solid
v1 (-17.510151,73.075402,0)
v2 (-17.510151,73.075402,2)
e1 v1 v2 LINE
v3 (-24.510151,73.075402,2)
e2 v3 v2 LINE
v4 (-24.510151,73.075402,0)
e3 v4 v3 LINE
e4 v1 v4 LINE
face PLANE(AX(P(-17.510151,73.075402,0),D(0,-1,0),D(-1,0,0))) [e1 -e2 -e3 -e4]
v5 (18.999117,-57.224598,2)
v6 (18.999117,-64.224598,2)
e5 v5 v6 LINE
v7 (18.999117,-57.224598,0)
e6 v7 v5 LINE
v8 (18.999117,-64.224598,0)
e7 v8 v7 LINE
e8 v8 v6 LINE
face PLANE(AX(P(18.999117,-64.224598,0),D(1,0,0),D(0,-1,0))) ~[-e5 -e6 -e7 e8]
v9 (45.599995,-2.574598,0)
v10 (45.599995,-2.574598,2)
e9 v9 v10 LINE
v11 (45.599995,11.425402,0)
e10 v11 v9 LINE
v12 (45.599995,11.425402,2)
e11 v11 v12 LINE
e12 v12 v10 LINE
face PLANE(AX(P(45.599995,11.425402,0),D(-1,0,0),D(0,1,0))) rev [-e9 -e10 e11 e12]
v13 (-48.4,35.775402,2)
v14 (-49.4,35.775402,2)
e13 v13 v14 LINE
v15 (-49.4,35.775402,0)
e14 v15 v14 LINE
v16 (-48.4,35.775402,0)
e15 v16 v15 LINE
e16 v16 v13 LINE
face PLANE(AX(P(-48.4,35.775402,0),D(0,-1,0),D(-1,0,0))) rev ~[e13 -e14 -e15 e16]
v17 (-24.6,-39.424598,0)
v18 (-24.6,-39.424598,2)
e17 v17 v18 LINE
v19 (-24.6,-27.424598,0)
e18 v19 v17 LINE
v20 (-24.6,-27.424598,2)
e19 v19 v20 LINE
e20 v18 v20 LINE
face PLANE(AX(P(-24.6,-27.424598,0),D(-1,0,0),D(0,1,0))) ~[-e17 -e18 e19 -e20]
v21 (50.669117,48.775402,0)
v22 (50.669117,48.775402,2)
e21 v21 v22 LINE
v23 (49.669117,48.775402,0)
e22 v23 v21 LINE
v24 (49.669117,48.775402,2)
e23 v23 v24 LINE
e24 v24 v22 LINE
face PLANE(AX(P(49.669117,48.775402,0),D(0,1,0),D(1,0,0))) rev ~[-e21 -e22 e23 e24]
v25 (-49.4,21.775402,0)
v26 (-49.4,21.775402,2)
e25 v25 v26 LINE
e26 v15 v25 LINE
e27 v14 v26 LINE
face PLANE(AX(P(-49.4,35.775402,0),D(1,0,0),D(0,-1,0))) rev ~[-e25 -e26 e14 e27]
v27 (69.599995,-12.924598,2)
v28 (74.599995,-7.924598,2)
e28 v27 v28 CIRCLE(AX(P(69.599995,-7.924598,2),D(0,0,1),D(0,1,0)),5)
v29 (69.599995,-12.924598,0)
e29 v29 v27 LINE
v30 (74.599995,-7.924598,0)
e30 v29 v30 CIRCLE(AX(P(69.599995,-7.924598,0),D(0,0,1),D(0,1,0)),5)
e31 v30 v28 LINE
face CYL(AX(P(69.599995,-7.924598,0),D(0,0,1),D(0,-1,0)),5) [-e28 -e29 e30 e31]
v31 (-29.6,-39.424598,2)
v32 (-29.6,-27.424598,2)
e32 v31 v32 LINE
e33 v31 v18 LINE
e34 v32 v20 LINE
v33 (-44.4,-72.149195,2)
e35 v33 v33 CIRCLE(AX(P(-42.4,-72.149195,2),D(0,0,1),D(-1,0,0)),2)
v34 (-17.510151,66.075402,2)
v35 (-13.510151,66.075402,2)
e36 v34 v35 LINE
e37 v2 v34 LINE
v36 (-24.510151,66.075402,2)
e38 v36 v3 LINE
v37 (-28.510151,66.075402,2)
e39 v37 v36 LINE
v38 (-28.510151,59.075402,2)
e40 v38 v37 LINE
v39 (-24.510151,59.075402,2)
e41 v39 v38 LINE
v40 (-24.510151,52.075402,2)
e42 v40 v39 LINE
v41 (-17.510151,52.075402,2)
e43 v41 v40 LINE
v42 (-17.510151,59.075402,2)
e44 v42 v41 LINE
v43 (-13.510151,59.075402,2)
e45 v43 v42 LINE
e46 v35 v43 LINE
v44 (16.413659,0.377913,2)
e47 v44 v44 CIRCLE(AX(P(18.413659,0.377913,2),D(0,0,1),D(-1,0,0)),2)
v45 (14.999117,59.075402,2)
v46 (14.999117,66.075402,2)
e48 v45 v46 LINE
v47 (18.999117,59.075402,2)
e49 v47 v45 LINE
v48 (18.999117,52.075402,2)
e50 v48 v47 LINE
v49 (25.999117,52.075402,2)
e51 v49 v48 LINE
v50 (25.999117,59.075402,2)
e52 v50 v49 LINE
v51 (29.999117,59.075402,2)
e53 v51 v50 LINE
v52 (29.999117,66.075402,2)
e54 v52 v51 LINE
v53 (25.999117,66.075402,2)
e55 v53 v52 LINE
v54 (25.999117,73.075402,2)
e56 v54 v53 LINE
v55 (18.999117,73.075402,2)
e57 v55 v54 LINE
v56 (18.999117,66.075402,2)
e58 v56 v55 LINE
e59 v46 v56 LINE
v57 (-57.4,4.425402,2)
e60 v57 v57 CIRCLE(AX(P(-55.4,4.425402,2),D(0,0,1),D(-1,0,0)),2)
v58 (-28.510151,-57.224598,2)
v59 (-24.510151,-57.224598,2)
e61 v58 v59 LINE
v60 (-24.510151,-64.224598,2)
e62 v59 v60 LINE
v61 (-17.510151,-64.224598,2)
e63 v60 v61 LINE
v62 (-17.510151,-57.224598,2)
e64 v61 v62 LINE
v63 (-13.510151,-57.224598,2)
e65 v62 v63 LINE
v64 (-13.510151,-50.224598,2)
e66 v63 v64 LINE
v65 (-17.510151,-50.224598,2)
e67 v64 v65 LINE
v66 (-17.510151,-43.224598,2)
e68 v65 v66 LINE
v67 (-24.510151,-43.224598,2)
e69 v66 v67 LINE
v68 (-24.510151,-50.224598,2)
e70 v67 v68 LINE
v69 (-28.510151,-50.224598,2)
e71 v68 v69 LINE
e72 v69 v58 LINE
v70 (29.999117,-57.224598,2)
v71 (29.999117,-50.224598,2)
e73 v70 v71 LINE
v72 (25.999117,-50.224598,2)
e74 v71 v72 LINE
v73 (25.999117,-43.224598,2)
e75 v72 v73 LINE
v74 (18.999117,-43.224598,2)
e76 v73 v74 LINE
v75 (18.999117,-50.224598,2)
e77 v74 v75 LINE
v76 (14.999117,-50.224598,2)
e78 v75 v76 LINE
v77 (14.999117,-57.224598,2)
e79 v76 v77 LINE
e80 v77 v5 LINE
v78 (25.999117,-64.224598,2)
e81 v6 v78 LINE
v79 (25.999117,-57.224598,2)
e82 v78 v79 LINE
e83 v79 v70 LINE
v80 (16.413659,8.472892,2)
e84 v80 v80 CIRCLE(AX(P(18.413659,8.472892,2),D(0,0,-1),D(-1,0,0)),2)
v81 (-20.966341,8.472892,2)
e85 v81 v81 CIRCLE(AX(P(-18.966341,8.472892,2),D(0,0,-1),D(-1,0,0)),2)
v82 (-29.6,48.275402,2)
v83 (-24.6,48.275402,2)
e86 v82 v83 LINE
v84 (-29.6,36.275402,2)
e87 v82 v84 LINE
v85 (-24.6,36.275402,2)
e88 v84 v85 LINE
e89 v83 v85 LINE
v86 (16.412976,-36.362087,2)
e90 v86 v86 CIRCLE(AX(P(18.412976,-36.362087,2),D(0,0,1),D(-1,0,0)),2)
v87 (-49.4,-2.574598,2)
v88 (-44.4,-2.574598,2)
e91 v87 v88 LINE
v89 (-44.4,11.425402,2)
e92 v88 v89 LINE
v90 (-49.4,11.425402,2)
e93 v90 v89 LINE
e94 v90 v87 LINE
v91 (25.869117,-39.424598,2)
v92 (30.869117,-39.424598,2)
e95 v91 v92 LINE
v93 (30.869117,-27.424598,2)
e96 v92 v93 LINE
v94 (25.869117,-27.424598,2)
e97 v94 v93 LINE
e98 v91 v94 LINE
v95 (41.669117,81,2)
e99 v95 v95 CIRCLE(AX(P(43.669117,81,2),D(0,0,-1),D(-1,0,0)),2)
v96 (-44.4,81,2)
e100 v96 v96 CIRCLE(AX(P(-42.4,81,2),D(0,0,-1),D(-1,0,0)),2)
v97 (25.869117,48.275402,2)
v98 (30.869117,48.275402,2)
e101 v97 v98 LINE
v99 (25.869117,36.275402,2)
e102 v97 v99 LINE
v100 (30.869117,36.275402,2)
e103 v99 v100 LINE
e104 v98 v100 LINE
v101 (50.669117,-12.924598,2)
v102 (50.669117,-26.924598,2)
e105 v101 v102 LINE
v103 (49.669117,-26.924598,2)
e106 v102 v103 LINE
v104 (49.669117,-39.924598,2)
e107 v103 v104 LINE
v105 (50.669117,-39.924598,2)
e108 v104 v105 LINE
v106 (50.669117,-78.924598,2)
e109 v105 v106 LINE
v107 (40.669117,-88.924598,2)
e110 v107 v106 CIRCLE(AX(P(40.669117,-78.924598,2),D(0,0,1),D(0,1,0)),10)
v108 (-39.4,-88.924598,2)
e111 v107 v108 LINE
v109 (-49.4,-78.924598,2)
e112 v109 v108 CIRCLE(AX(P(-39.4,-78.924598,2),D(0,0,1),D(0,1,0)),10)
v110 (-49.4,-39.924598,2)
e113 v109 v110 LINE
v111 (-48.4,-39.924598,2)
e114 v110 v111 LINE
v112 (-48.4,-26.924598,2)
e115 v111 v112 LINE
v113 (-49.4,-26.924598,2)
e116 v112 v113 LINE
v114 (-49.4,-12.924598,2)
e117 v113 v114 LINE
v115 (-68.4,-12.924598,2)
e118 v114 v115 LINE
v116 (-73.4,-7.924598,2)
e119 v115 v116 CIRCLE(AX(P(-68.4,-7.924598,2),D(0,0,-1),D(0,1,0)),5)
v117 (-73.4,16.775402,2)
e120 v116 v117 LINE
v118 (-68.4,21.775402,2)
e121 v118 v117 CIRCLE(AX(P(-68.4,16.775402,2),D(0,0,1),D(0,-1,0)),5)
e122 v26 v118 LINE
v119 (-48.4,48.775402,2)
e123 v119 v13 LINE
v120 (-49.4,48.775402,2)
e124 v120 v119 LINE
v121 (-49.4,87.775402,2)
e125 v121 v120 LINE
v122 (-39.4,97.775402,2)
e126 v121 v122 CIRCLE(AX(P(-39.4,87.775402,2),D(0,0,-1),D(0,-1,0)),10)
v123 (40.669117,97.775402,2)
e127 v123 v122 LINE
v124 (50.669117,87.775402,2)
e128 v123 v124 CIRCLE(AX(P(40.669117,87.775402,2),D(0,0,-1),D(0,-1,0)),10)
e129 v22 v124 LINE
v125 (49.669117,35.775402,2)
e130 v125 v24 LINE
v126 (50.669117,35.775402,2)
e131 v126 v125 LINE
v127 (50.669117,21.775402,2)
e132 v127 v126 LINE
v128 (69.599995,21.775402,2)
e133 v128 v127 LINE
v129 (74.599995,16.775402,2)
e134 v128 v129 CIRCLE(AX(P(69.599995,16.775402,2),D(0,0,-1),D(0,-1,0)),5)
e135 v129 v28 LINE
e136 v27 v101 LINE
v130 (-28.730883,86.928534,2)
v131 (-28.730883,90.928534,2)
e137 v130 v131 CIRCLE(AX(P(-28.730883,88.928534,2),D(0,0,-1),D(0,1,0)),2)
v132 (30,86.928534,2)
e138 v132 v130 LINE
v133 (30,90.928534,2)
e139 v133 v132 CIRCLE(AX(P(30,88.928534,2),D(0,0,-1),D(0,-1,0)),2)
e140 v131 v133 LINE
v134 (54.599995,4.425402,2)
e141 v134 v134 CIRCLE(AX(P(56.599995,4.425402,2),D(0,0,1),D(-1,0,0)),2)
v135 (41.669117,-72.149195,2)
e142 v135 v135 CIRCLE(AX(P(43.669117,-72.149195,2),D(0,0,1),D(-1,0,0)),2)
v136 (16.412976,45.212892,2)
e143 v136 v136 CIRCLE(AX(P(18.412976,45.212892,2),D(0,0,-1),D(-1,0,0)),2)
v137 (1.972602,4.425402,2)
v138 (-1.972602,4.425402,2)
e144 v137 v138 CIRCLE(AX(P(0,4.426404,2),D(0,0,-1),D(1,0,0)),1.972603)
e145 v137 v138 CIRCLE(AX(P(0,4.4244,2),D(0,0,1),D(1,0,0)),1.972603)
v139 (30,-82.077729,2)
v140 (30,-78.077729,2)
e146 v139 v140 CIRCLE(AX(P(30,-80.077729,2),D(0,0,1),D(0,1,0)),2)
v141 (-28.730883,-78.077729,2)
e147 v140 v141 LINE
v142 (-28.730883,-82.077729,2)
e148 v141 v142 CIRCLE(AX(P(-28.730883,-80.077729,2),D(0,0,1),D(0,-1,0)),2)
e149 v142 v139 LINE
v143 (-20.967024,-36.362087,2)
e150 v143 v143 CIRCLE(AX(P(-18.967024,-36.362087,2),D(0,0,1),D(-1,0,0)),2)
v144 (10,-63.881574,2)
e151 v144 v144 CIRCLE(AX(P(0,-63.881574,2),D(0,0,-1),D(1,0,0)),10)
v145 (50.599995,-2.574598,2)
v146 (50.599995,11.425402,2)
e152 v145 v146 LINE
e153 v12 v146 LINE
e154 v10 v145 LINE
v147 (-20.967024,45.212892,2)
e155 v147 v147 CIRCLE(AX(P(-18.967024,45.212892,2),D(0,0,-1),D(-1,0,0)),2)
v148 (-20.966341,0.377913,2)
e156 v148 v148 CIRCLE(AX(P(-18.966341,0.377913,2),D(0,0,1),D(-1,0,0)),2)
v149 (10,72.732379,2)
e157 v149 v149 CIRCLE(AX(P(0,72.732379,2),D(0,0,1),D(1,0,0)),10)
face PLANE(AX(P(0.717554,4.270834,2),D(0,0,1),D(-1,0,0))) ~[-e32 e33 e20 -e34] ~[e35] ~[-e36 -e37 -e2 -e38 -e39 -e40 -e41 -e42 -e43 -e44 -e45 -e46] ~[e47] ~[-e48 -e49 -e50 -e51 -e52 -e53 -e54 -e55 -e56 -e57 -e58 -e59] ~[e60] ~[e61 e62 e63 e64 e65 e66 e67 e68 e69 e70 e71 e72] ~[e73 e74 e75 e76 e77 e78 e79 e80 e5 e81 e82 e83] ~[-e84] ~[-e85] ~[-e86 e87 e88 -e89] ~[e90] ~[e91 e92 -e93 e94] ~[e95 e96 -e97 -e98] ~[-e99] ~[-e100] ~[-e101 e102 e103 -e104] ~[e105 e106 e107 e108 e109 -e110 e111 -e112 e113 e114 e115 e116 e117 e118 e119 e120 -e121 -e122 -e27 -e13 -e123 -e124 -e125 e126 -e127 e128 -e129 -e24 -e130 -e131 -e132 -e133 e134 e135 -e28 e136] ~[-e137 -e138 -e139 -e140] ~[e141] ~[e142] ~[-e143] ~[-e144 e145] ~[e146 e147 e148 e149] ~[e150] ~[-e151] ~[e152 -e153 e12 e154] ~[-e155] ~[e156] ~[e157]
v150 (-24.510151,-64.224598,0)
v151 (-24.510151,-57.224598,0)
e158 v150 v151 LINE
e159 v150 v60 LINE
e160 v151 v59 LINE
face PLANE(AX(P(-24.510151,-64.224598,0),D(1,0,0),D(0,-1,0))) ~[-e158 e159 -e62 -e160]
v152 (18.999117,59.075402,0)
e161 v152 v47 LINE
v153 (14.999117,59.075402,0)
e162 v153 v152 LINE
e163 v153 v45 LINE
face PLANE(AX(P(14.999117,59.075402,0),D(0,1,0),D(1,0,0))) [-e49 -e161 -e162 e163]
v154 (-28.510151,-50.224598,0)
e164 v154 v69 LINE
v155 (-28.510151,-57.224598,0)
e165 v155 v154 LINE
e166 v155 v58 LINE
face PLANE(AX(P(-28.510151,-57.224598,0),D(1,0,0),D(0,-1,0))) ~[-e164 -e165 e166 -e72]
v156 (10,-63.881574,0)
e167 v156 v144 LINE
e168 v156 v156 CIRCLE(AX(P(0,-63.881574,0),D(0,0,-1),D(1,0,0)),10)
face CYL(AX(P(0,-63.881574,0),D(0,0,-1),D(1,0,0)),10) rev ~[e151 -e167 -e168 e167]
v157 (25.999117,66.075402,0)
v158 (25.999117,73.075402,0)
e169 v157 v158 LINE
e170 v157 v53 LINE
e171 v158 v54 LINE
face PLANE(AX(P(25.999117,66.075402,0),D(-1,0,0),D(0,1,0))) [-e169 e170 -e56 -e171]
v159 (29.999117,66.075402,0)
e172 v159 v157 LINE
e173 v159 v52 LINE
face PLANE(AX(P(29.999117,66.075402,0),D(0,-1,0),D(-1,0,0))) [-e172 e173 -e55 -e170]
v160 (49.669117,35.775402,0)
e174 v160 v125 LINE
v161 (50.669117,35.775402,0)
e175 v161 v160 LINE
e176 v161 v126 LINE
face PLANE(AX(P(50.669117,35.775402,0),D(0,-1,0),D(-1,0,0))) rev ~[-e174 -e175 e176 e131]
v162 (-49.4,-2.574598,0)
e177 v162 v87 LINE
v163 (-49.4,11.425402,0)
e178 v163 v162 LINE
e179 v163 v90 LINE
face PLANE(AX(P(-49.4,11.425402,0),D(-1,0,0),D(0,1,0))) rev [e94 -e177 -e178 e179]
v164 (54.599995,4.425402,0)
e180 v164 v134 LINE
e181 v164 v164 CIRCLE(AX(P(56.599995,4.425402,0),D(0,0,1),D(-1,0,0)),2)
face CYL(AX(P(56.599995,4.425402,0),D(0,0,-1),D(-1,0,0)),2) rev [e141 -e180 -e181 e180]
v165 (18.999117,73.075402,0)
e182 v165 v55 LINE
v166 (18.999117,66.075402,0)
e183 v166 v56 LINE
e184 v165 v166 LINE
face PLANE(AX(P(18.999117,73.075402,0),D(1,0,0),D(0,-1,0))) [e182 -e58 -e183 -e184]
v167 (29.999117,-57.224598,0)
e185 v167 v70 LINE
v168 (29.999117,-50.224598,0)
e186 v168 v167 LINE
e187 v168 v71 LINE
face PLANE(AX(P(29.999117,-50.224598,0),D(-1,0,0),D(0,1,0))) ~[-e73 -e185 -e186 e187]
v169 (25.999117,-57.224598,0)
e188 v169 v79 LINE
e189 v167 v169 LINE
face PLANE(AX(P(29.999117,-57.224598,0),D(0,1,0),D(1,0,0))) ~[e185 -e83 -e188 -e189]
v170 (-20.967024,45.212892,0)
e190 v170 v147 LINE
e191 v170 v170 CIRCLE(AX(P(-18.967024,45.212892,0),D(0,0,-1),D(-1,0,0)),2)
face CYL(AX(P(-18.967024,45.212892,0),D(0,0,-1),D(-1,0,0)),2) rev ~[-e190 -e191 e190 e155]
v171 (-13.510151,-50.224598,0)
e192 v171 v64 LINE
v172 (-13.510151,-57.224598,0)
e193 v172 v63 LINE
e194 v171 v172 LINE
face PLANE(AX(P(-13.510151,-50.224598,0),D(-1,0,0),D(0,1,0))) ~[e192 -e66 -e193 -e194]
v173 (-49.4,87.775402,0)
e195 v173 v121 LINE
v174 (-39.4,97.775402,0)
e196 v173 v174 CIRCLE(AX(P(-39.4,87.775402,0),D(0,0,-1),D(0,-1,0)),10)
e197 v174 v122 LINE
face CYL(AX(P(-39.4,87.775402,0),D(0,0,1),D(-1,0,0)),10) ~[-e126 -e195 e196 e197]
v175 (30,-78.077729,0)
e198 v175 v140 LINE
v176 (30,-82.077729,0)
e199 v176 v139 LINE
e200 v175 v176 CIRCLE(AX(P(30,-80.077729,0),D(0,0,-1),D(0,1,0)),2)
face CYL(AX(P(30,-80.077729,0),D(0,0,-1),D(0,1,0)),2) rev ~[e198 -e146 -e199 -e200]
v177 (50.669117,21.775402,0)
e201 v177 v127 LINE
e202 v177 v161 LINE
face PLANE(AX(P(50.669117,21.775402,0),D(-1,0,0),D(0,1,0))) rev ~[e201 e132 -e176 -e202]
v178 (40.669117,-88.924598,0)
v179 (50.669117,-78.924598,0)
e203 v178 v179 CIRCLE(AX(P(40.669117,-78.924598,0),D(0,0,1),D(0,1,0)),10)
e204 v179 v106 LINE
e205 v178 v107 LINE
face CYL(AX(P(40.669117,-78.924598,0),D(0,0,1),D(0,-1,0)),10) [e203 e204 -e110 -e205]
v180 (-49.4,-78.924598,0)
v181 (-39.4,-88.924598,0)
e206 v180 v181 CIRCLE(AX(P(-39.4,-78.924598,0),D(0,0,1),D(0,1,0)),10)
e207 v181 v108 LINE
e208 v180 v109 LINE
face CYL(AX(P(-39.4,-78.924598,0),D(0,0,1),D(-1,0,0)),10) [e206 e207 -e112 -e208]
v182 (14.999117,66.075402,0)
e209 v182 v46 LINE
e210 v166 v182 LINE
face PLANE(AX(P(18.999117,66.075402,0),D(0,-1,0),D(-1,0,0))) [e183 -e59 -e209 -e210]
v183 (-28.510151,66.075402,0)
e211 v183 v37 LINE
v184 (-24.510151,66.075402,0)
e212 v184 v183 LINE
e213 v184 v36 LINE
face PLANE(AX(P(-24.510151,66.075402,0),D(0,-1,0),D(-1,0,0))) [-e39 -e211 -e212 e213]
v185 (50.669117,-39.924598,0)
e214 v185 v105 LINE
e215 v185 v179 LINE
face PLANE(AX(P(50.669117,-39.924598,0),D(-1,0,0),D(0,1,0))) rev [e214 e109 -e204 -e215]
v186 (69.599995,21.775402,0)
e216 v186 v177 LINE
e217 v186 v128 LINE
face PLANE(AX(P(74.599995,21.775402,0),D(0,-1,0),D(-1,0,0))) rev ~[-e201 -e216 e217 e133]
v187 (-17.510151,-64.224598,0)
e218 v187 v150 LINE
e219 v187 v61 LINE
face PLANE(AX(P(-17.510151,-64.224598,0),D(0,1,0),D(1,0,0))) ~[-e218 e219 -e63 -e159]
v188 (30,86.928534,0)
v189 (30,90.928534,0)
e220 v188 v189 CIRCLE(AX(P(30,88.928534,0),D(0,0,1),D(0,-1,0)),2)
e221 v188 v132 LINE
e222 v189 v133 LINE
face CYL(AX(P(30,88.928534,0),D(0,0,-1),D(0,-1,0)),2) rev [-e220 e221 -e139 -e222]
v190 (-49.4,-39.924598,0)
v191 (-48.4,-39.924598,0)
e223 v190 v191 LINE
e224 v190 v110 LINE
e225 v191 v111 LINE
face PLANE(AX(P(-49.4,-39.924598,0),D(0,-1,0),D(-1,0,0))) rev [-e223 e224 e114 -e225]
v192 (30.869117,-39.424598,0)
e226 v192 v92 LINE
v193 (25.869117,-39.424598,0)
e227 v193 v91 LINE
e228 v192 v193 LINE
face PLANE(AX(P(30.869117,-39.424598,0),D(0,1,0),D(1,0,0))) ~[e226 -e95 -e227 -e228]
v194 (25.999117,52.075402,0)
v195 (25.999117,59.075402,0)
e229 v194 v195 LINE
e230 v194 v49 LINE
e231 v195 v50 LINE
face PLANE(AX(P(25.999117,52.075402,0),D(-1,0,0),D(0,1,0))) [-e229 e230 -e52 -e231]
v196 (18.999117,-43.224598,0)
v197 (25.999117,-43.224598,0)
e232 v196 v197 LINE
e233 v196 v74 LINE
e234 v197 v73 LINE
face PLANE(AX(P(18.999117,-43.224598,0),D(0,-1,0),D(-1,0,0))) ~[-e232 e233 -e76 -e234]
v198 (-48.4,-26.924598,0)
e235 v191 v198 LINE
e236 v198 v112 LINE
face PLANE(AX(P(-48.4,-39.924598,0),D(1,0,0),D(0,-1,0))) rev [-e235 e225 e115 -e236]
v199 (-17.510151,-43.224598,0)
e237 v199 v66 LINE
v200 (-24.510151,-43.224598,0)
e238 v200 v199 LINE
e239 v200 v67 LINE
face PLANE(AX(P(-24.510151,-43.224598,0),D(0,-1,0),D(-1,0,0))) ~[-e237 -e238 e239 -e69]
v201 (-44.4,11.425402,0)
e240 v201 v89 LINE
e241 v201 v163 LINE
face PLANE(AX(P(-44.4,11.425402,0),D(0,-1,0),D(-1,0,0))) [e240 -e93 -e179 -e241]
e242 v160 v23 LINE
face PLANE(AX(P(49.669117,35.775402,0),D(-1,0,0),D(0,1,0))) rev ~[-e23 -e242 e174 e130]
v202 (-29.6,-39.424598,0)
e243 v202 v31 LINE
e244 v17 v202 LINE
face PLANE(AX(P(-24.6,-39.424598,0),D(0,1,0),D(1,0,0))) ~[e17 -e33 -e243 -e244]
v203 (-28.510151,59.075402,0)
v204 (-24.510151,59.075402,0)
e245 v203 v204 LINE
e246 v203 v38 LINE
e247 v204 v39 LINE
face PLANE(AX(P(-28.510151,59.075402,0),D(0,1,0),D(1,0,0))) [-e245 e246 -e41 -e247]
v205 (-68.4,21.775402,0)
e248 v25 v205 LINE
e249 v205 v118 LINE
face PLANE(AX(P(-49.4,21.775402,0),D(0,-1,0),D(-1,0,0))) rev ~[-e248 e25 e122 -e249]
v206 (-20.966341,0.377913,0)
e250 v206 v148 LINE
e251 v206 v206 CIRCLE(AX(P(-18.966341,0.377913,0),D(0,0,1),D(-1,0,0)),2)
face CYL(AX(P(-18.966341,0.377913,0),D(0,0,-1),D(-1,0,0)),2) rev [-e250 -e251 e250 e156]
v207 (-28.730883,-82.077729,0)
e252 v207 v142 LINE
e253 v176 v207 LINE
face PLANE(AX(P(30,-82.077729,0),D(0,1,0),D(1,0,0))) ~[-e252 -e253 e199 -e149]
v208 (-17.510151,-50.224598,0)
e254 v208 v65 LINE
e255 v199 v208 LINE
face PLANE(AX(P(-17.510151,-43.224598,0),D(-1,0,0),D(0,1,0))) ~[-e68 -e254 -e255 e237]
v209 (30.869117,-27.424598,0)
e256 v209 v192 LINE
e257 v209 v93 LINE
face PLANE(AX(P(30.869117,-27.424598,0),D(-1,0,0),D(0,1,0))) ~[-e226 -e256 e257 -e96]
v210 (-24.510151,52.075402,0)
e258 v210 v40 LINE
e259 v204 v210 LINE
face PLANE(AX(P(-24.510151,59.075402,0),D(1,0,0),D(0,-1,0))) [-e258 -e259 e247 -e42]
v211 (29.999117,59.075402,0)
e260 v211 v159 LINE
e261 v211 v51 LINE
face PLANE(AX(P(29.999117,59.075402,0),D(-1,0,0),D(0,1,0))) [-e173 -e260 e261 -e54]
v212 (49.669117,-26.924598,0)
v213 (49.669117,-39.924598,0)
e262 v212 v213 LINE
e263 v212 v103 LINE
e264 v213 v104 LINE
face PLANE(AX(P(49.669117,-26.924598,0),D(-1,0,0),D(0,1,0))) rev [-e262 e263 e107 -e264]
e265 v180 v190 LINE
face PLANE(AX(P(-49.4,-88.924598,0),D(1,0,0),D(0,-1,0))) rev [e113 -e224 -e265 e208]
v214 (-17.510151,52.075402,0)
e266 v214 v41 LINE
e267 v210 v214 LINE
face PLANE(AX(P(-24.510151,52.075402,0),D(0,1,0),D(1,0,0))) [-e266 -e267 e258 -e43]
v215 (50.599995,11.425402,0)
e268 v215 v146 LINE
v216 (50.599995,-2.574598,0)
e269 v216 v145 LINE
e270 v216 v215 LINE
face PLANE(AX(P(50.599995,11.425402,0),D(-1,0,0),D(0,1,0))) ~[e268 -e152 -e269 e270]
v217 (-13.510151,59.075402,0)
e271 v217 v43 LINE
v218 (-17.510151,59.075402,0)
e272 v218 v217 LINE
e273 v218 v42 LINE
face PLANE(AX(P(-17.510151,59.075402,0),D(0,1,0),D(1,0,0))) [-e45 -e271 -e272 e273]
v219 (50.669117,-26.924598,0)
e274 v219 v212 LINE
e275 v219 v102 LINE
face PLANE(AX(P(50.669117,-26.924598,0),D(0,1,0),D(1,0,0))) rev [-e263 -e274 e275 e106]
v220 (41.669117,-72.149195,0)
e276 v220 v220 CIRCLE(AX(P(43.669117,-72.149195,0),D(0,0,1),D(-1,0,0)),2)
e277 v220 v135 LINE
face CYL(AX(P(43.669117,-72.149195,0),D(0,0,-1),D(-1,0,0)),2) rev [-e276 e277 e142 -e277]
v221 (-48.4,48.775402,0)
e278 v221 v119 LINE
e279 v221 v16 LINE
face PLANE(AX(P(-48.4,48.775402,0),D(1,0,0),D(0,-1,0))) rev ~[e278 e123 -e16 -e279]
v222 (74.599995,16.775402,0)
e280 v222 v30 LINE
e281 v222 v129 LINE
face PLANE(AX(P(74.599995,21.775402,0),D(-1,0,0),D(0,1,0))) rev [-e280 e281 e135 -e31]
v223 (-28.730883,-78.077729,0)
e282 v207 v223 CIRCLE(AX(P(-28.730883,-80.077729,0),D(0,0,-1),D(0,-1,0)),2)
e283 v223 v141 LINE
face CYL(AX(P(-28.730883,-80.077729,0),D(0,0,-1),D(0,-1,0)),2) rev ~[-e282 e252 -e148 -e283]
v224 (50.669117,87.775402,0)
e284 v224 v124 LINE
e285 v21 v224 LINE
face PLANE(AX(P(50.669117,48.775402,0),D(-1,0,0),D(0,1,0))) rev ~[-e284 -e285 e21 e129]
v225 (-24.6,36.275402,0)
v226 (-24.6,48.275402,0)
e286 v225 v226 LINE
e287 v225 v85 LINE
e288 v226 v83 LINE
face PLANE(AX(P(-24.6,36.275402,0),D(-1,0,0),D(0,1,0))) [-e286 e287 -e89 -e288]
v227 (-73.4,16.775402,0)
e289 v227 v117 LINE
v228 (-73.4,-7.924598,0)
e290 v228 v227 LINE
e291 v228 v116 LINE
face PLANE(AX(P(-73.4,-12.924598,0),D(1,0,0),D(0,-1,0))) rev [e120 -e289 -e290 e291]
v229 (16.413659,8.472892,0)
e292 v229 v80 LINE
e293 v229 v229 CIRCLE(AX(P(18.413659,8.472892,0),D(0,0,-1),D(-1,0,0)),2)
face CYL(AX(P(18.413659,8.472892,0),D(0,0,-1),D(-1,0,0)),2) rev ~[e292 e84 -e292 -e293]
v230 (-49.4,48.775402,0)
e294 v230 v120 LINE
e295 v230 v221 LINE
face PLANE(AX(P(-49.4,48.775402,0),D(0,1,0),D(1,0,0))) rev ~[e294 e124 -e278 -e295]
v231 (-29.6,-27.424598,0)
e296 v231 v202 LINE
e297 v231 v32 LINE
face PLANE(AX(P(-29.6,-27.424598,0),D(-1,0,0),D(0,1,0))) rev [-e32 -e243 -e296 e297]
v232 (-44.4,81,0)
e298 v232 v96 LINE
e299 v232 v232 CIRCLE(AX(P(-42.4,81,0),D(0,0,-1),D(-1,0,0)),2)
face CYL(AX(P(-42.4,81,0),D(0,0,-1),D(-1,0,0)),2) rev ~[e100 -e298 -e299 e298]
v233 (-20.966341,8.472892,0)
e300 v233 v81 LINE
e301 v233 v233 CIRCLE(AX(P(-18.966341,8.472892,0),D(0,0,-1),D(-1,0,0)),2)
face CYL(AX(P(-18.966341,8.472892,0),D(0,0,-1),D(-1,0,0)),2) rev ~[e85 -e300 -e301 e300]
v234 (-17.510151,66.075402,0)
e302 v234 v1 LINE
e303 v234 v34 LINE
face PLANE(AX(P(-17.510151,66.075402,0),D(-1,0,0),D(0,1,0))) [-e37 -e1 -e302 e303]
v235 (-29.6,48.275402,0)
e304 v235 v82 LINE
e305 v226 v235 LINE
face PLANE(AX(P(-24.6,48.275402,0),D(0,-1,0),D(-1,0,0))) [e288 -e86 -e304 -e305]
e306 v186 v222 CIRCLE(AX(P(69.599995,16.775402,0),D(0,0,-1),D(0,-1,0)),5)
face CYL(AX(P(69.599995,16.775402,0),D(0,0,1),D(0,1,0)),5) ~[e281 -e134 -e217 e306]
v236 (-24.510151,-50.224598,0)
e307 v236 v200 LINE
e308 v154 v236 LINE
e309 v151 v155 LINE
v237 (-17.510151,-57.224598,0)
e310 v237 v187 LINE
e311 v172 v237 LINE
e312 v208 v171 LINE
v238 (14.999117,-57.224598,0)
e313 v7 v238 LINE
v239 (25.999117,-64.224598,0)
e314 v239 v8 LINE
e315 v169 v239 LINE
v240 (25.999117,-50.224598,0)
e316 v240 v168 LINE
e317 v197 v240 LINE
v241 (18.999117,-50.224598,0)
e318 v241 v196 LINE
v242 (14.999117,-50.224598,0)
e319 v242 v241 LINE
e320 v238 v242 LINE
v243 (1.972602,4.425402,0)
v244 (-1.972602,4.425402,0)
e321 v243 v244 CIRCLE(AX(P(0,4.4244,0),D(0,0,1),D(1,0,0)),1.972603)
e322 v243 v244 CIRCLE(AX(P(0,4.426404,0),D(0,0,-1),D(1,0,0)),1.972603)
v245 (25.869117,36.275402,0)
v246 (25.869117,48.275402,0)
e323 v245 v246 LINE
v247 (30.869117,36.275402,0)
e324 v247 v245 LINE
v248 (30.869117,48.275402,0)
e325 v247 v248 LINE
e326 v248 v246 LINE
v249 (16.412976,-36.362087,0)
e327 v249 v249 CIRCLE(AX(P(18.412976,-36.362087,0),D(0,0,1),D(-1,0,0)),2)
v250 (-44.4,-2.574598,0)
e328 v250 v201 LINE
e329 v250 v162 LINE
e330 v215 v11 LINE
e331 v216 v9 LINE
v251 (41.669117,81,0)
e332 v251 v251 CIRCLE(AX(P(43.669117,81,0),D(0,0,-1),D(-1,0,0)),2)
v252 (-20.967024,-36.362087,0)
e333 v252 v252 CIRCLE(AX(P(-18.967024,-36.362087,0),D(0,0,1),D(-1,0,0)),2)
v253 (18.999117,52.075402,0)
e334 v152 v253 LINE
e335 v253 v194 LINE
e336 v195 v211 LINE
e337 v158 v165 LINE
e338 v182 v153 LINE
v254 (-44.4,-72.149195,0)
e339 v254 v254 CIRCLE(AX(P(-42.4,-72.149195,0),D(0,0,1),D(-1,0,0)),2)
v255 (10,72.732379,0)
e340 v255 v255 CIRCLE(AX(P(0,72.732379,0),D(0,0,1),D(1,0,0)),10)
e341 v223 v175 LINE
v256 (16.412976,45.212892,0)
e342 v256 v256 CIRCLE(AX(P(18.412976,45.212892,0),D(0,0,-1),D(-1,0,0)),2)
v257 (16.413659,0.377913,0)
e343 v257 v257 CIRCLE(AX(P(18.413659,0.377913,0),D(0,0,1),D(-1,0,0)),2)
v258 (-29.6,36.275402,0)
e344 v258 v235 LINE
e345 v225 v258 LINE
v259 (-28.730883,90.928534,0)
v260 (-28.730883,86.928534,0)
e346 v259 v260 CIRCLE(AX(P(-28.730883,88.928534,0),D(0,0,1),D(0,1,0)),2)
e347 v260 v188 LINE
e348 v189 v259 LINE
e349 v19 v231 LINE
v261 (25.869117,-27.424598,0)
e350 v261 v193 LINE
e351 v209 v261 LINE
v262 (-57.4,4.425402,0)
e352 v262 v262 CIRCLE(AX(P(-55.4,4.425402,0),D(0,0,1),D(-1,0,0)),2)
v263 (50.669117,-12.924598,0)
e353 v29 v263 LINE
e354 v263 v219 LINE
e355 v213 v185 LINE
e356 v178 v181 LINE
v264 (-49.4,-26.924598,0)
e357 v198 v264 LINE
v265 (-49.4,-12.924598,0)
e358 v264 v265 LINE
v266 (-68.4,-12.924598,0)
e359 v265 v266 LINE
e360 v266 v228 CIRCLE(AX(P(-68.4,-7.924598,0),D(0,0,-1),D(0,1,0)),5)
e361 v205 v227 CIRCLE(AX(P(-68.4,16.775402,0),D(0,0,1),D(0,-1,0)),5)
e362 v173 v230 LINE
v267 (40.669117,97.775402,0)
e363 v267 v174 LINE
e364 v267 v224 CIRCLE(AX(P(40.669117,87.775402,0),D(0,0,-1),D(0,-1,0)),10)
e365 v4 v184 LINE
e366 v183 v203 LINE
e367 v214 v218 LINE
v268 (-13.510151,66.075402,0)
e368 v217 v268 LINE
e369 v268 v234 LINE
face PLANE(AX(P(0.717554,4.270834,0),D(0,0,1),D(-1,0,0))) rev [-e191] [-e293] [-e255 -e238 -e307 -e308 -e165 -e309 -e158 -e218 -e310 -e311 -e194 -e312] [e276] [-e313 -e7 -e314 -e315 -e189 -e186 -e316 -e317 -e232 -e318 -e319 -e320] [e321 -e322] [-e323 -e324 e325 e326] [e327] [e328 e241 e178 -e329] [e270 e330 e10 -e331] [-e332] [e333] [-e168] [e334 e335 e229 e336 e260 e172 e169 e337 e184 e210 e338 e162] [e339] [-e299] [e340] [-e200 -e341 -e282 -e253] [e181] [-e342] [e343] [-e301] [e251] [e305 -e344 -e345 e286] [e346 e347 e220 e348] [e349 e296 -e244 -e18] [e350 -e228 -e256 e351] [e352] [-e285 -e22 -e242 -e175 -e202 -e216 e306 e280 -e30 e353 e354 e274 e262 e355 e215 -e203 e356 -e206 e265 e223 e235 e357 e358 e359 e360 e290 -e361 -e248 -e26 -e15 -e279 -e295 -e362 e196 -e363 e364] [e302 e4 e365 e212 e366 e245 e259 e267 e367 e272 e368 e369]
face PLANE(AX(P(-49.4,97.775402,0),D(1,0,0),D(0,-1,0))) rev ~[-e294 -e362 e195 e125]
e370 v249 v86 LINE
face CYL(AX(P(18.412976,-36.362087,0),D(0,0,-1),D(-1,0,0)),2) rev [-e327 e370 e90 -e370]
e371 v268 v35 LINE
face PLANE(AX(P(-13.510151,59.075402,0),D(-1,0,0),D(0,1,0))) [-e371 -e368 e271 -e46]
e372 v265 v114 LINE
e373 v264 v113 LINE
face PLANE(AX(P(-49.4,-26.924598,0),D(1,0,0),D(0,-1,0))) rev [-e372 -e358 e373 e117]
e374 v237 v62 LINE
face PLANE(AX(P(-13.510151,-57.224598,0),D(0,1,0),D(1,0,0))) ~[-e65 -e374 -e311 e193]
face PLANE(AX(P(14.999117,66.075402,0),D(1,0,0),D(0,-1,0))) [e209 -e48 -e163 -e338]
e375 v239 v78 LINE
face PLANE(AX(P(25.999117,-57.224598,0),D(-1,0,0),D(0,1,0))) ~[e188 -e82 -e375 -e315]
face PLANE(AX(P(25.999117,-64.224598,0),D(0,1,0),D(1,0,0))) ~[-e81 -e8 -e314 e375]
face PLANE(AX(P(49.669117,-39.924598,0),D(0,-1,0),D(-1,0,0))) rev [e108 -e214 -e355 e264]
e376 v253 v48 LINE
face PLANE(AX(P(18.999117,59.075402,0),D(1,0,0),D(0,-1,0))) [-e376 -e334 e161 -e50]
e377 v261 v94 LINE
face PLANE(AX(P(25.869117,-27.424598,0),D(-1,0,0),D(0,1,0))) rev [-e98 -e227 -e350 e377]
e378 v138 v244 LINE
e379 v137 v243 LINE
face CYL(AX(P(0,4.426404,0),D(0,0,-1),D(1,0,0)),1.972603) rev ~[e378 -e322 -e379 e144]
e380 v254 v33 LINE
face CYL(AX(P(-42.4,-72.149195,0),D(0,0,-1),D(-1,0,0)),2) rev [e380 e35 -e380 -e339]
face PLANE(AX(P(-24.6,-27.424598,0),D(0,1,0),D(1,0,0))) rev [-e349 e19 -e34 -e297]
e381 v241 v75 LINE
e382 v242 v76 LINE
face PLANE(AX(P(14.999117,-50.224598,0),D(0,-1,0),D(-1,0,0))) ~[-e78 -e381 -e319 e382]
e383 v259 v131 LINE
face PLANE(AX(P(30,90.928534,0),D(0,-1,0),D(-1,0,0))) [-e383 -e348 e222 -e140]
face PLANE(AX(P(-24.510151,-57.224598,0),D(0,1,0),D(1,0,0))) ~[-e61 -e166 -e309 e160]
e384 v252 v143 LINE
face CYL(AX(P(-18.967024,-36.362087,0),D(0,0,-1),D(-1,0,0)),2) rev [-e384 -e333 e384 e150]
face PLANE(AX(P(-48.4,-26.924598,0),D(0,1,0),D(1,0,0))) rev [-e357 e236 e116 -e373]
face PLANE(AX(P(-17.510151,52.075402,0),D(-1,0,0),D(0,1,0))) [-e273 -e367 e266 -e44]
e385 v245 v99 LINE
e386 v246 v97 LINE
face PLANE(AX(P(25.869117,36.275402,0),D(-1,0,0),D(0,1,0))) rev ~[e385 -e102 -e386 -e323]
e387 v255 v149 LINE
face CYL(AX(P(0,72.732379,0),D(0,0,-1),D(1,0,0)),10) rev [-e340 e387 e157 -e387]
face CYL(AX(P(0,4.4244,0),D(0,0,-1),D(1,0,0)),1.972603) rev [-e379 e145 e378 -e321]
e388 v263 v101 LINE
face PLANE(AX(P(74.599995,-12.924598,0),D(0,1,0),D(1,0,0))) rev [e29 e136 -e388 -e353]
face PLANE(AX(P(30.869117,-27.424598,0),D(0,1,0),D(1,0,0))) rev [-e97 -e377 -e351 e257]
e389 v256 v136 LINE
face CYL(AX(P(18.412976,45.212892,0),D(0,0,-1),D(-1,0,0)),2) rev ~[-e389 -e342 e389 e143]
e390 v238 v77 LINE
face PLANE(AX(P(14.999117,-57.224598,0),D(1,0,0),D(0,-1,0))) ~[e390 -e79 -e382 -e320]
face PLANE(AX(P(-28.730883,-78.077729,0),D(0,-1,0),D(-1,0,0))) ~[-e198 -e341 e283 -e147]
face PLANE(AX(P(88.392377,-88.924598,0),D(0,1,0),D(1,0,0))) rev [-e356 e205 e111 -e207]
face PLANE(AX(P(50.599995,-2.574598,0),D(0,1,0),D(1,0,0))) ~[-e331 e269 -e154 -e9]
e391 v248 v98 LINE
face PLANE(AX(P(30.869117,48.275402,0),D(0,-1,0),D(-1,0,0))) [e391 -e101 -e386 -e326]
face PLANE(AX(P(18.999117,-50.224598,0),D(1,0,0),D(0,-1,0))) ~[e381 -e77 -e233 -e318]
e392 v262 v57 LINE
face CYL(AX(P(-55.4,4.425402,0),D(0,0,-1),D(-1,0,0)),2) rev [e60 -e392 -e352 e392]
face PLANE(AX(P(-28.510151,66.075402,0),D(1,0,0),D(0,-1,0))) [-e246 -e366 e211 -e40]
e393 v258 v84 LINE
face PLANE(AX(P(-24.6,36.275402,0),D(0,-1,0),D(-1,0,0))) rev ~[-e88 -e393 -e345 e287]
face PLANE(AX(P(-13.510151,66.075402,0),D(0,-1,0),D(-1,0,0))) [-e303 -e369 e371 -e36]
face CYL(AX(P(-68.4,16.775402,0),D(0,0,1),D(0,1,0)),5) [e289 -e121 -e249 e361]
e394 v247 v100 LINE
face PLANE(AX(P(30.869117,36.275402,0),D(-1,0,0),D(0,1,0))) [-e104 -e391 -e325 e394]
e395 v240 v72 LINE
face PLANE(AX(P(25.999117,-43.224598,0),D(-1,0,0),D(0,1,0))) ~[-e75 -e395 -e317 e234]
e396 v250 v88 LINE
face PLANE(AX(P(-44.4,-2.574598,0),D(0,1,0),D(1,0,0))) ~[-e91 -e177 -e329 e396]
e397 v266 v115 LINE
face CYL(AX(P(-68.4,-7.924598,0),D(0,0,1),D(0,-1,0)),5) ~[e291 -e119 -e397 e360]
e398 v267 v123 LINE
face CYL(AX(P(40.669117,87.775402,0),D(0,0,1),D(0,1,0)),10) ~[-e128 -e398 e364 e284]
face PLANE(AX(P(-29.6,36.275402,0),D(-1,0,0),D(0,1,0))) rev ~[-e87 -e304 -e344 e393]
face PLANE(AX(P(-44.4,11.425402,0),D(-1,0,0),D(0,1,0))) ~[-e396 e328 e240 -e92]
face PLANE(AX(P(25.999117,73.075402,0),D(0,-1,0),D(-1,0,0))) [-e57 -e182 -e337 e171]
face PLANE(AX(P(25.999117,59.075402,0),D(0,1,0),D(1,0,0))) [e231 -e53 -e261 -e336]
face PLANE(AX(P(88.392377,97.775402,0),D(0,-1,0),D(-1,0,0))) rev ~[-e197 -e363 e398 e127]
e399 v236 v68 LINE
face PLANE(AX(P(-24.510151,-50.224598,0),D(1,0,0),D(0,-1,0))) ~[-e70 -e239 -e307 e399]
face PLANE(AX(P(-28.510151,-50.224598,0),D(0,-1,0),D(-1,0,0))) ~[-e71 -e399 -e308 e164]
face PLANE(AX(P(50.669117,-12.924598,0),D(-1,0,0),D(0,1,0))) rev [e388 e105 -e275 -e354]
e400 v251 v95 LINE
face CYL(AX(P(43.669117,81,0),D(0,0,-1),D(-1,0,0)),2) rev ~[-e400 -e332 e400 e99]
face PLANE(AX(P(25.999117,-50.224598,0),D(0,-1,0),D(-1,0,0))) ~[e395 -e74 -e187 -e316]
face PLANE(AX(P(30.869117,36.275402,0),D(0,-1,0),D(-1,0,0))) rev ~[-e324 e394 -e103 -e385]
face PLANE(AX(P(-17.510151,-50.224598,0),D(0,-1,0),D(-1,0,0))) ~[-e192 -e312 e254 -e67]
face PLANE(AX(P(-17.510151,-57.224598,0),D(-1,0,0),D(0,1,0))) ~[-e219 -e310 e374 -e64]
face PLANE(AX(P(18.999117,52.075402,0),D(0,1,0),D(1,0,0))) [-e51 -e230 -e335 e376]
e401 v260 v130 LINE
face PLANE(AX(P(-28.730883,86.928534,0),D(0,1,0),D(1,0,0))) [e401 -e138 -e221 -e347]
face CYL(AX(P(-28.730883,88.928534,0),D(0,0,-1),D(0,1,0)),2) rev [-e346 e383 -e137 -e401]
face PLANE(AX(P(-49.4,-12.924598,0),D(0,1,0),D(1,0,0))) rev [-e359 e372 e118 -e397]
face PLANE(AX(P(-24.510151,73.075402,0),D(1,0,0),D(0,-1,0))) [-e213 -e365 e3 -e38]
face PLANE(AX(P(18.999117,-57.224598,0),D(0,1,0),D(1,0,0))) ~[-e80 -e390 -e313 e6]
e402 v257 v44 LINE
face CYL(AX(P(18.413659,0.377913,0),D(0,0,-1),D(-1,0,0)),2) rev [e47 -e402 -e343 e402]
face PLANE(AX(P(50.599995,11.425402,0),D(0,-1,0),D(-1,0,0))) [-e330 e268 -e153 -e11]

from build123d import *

# Parameters (mm, degrees)
SKETCH1_R           = 10
SKETCH1_R_2         = 1.972602619
BOSS_EXTRUDE2_DEPTH = 2
SKETCH5_W           = 5
SKETCH5_H           = 14
CUT_EXTRUDE3_DEPTH  = 3.0000001
SKETCH6_W           = 5
SKETCH6_H           = 14
CUT_EXTRUDE4_DEPTH  = 3.0000001
SKETCH19_R          = 2
CUT_EXTRUDE19_DEPTH = 3.0000001
SKETCH22_R          = 2
CUT_EXTRUDE22_DEPTH = 3.0000001
SKETCH23_R          = 2
CUT_EXTRUDE23_DEPTH = 3.0000001
SKETCH24_R          = 2
CUT_EXTRUDE24_DEPTH = 3.0000001
SKETCH25_W          = 5
SKETCH25_H          = 12
CUT_EXTRUDE25_DEPTH = 3.0000001
CUT_EXTRUDE26_DEPTH = 3.0000001
CUT_EXTRUDE29_DEPTH = 3.0000001
SKETCH20_R          = 2
CUT_EXTRUDE20_DEPTH = 3.0000001
SKETCH30_W          = 181.696441894
SKETCH30_H          = 131.456906608
CUT_EXTRUDE30_DEPTH = 3
SKETCH31_R          = 2
CUT_EXTRUDE31_DEPTH = 2
SKETCH32_W          = 167.461823271
SKETCH32_H          = 37.26795508
CUT_EXTRUDE32_DEPTH = 2
FILLET1_R           = 10
FILLET2_R           = 5


with BuildPart() as part:
    # Sketch1 → Boss-Extrude2 (new body)
    with BuildSketch(Plane.XY):
        with BuildLine():
            Line((-49.4, 97.775402254), (-49.4, 48.775402254))
            Line((-49.4, 48.775402254), (-48.4, 48.775402254))
            Line((-48.4, 48.775402254), (-48.4, 35.775402254))
            Line((-48.4, 35.775402254), (-49.4, 35.775402254))
            Line((-49.4, 35.775402254), (-49.4, 21.775402254))
            Line((-49.4, 21.775402254), (-73.4, 21.775402254))
            Line((-73.4, 21.775402254), (-73.4, -12.924597746))
            Line((-73.4, -12.924597746), (-49.4, -12.924597746))
            Line((-49.4, -12.924597746), (-49.4, -26.924597746))
            Line((-49.4, -26.924597746), (-48.4, -26.924597746))
            Line((-48.4, -26.924597746), (-48.4, -39.924597746))
            Line((-48.4, -39.924597746), (-49.4, -39.924597746))
            Line((-49.4, -39.924597746), (-49.4, -88.924597746))
            Line((-49.4, -88.924597746), (-73.349457369, -88.924597746))
            add(Edge.make_bspline(
                [(-73.349457369, -88.924597746), (-70.502213021, -123.490651401), (3.447241601, -123.490651401), (77.396696223, -123.490651401), (74.549451875, -88.924597746)],
                knots=[3.190793702, 3.190793702, 3.190793702, 4.761590029, 4.761590029, 6.332386355, 6.332386355, 6.332386355], degree=2, weights=[1, 0.707106781, 1, 0.707106781, 1]))
            Line((74.549451875, -88.924597746), (50.599994505, -88.924597746))
            Line((50.599994505, -88.924597746), (50.599994505, -39.924597746))
            Line((50.599994505, -39.924597746), (49.599994505, -39.924597746))
            Line((49.599994505, -39.924597746), (49.599994505, -26.924597746))
            Line((49.599994505, -26.924597746), (50.599994505, -26.924597746))
            Line((50.599994505, -26.924597746), (50.599994505, -12.924597746))
            Line((50.599994505, -12.924597746), (74.599994505, -12.924597746))
            Line((74.599994505, -12.924597746), (74.599994505, 21.775402254))
            Line((74.599994505, 21.775402254), (50.669116659, 21.775402254))
            Line((50.669116659, 21.775402254), (50.669116659, 35.775402254))
            Line((50.669116659, 35.775402254), (49.669116659, 35.775402254))
            Line((49.669116659, 35.775402254), (49.669116659, 48.775402254))
            Line((49.669116659, 48.775402254), (50.669116659, 48.775402254))
            Line((50.669116659, 48.775402254), (50.669116659, 97.775402254))
            Line((50.669116659, 97.775402254), (74.669116659, 97.775402254))
            add(Edge.make_bspline(
                [(74.669116659, 97.775402254), (74.669116659, 132.775402254), (0.587265356, 132.775402254), (-73.494585946, 132.775402254), (-73.494585946, 97.775402254)],
                knots=[3.141592654, 3.141592654, 3.141592654, 4.71238898, 4.71238898, 6.283185307, 6.283185307, 6.283185307], degree=2, weights=[1, 0.707106781, 1, 0.707106781, 1]))
            Line((-73.494585946, 97.775402254), (-49.4, 97.775402254))
        make_face()
        with Locations((0, 72.732378713)):
            Circle(SKETCH1_R, mode=Mode.SUBTRACT)
        with Locations((0, -63.883577786)):
            Circle(SKETCH1_R, mode=Mode.SUBTRACT)
        with Locations((0, 4.424400463)):
            Circle(SKETCH1_R_2, mode=Mode.SUBTRACT)
    extrude(amount=BOSS_EXTRUDE2_DEPTH)

    # Sketch5 → Cut-Extrude3 (cut, through all)
    with BuildSketch(Plane(origin=(0, 0, 0), x_dir=(-1, 0, 0), z_dir=(0, 0, -1))):
        with Locations((46.9, 4.425402254)):
            Rectangle(SKETCH5_W, SKETCH5_H)
    extrude(amount=-CUT_EXTRUDE3_DEPTH, mode=Mode.SUBTRACT)

    # Sketch6 → Cut-Extrude4 (cut, through all)
    with BuildSketch(Plane(origin=(0, 0, 0), x_dir=(-1, 0, 0), z_dir=(0, 0, -1))):
        with Locations((-48.099994505, 4.425402254)):
            Rectangle(SKETCH6_W, SKETCH6_H)
    extrude(amount=-CUT_EXTRUDE4_DEPTH, mode=Mode.SUBTRACT)

    # Sketch19 → Cut-Extrude19 (cut, through all)
    with BuildSketch(Plane(origin=(0, 0, 0), x_dir=(-1, 0, 0), z_dir=(0, 0, -1))):
        with Locations((-56.599994505, 4.425402254)):
            Circle(SKETCH19_R)
    extrude(amount=-CUT_EXTRUDE19_DEPTH, mode=Mode.SUBTRACT)

    # Sketch22 → Cut-Extrude22 (cut, through all)
    with BuildSketch(Plane(origin=(0, 0, 0), x_dir=(-1, 0, 0), z_dir=(0, 0, -1))):
        with Locations((42.4, 81)):
            Circle(SKETCH22_R)
        with Locations((-43.669116659, 81)):
            Circle(SKETCH22_R)
    extrude(amount=-CUT_EXTRUDE22_DEPTH, mode=Mode.SUBTRACT)

    # Sketch23 → Cut-Extrude23 (cut, through all)
    with BuildSketch(Plane.XY.offset(2)):
        with Locations((43.599994505, -81)):
            Circle(SKETCH23_R)
        with Locations((-42.4, -81)):
            Circle(SKETCH23_R)
    extrude(amount=-CUT_EXTRUDE23_DEPTH, mode=Mode.SUBTRACT)

    # Sketch24 → Cut-Extrude24 (cut, through all)
    with BuildSketch(Plane.XY.offset(2)):
        with Locations((-50, -94.924597746)):
            Circle(SKETCH24_R)
        with Locations((50, -94.924597746)):
            Circle(SKETCH24_R)
        with Locations((-50, 103.775402254)):
            Circle(SKETCH24_R)
        with Locations((50, 103.775402254)):
            Circle(SKETCH24_R)
    extrude(amount=-CUT_EXTRUDE24_DEPTH, mode=Mode.SUBTRACT)

    # Sketch25 → Cut-Extrude25 (cut, through all)
    with BuildSketch(Plane(origin=(0, 0, 0), x_dir=(-1, 0, 0), z_dir=(0, 0, -1))):
        with Locations((-28.369116659, 42.275402254)):
            Rectangle(SKETCH25_W, SKETCH25_H)
        with Locations((27.1, 42.275402254)):
            Rectangle(SKETCH25_W, SKETCH25_H)
        with Locations((-28.299994505, -33.424597746)):
            Rectangle(SKETCH25_W, SKETCH25_H)
        with Locations((27.1, -33.424597746)):
            Rectangle(SKETCH25_W, SKETCH25_H)
    extrude(amount=-CUT_EXTRUDE25_DEPTH, mode=Mode.SUBTRACT)

    # Sketch26 → Cut-Extrude26 (cut, through all)
    with BuildSketch(Plane(origin=(0, 0, 0), x_dir=(-1, 0, 0), z_dir=(0, 0, -1))):
        Polygon((24.510151311, 52.075402254), (17.510151311, 52.075402254), (17.510151311, 59.075402254), (13.510151311, 59.075402254), (13.510151311, 66.075402254), (17.510151311, 66.075402254), (17.510151311, 73.075402254), (24.510151311, 73.075402254), (24.510151311, 66.075402254), (28.510151311, 66.075402254), (28.510151311, 59.075402254), (24.510151311, 59.075402254), align=None)
        Polygon((-29.999116659, 59.075402254), (-29.999116659, 66.075402254), (-25.999116659, 66.075402254), (-25.999116659, 73.075402254), (-18.999116659, 73.075402254), (-18.999116659, 66.075402254), (-14.999116659, 66.075402254), (-14.999116659, 59.075402254), (-18.999116659, 59.075402254), (-18.999116659, 52.075402254), (-25.999116659, 52.075402254), (-25.999116659, 59.075402254), align=None)
        Polygon((-19, -69), (-19, -62), (-15, -62), (-15, -55), (-19, -55), (-19, -48), (-26, -48), (-26, -55), (-30, -55), (-30, -62), (-26, -62), (-26, -69), align=None)
        Polygon((24.510151311, -48), (17.510151311, -48), (17.510151311, -55), (13.510151311, -55), (13.510151311, -62), (17.510151311, -62), (17.510151311, -69), (24.510151311, -69), (24.510151311, -62), (28.510151311, -62), (28.510151311, -55), (24.510151311, -55), align=None)
    extrude(amount=-CUT_EXTRUDE26_DEPTH, mode=Mode.SUBTRACT)

    # Sketch28 → Cut-Extrude29 (cut, through all)
    with BuildSketch(Plane(origin=(0, 0, 0), x_dir=(-1, 0, 0), z_dir=(0, 0, -1))):
        with BuildLine():
            Line((28.730883341, 86.928533544), (-30, 86.928533544))
            ThreePointArc((-30, 86.928533544), (-32, 88.928533544), (-30, 90.928533544))
            Line((-30, 90.928533544), (28.730883341, 90.928533544))
            ThreePointArc((28.730883341, 90.928533544), (30.730883341, 88.928533544), (28.730883341, 86.928533544))
        make_face()
    extrude(amount=-CUT_EXTRUDE29_DEPTH, mode=Mode.SUBTRACT)

    # Sketch20 → Cut-Extrude20 (cut, through all)
    with BuildSketch(Plane(origin=(0, 0, 0), x_dir=(-1, 0, 0), z_dir=(0, 0, -1))):
        with Locations((55.4, 4.425402254)):
            Circle(SKETCH20_R)
    extrude(amount=-CUT_EXTRUDE20_DEPTH, mode=Mode.SUBTRACT)

    # Sketch30 → Cut-Extrude30 (cut)
    with BuildSketch(Plane(origin=(0, 0, 0), x_dir=(-1, 0, 0), z_dir=(0, 0, -1))):
        with Locations((-2.534318945, -61.30305105)):
            Rectangle(SKETCH30_W, SKETCH30_H)
    extrude(amount=-CUT_EXTRUDE30_DEPTH, mode=Mode.SUBTRACT)

    # Sketch31 → Cut-Extrude31 (cut)
    with BuildSketch(Plane(origin=(0, 0, 0), x_dir=(-1, 0, 0), z_dir=(0, 0, -1))):
        with Locations((-18.412976441, 45.21289193)):
            Circle(SKETCH31_R)
        with Locations((-18.413659383, 8.47289193)):
            Circle(SKETCH31_R)
        with Locations((18.967023559, 45.21289193)):
            Circle(SKETCH31_R)
        with Locations((18.966340617, 8.47289193)):
            Circle(SKETCH31_R)
    extrude(amount=-CUT_EXTRUDE31_DEPTH, mode=Mode.SUBTRACT)

    # Sketch32 → Cut-Extrude32 (cut)
    with BuildSketch(Plane(origin=(0, 0, 0), x_dir=(-1, 0, 0), z_dir=(0, 0, -1))):
        with Locations((-4.661465148, 116.409379794)):
            Rectangle(SKETCH32_W, SKETCH32_H)
    extrude(amount=-CUT_EXTRUDE32_DEPTH, mode=Mode.SUBTRACT)

    # Fillet1
    fillet1_edges = [part.edges().sort_by_distance(p)[0] for p in [
        (-49.4, 97.775402254, 1),
        (50.669116659, 97.775402254, 1),
    ]]
    fillet(fillet1_edges, radius=FILLET1_R)

    # Fillet2
    fillet2_edges = [part.edges().sort_by_distance(p)[0] for p in [
        (74.599994505, 21.775402254, 1),
        (-73.4, 21.775402254, 1),
    ]]
    fillet(fillet2_edges, radius=FILLET2_R)

    # Mirror1: part across plane


with BuildPart() as part_1:
    add(part.part)
    add(part.part.mirror(Plane(origin=(0, 4.425402254, 0), x_dir=(0, 0, 1), z_dir=(0, -1, 0))))


solid = part_1.part
